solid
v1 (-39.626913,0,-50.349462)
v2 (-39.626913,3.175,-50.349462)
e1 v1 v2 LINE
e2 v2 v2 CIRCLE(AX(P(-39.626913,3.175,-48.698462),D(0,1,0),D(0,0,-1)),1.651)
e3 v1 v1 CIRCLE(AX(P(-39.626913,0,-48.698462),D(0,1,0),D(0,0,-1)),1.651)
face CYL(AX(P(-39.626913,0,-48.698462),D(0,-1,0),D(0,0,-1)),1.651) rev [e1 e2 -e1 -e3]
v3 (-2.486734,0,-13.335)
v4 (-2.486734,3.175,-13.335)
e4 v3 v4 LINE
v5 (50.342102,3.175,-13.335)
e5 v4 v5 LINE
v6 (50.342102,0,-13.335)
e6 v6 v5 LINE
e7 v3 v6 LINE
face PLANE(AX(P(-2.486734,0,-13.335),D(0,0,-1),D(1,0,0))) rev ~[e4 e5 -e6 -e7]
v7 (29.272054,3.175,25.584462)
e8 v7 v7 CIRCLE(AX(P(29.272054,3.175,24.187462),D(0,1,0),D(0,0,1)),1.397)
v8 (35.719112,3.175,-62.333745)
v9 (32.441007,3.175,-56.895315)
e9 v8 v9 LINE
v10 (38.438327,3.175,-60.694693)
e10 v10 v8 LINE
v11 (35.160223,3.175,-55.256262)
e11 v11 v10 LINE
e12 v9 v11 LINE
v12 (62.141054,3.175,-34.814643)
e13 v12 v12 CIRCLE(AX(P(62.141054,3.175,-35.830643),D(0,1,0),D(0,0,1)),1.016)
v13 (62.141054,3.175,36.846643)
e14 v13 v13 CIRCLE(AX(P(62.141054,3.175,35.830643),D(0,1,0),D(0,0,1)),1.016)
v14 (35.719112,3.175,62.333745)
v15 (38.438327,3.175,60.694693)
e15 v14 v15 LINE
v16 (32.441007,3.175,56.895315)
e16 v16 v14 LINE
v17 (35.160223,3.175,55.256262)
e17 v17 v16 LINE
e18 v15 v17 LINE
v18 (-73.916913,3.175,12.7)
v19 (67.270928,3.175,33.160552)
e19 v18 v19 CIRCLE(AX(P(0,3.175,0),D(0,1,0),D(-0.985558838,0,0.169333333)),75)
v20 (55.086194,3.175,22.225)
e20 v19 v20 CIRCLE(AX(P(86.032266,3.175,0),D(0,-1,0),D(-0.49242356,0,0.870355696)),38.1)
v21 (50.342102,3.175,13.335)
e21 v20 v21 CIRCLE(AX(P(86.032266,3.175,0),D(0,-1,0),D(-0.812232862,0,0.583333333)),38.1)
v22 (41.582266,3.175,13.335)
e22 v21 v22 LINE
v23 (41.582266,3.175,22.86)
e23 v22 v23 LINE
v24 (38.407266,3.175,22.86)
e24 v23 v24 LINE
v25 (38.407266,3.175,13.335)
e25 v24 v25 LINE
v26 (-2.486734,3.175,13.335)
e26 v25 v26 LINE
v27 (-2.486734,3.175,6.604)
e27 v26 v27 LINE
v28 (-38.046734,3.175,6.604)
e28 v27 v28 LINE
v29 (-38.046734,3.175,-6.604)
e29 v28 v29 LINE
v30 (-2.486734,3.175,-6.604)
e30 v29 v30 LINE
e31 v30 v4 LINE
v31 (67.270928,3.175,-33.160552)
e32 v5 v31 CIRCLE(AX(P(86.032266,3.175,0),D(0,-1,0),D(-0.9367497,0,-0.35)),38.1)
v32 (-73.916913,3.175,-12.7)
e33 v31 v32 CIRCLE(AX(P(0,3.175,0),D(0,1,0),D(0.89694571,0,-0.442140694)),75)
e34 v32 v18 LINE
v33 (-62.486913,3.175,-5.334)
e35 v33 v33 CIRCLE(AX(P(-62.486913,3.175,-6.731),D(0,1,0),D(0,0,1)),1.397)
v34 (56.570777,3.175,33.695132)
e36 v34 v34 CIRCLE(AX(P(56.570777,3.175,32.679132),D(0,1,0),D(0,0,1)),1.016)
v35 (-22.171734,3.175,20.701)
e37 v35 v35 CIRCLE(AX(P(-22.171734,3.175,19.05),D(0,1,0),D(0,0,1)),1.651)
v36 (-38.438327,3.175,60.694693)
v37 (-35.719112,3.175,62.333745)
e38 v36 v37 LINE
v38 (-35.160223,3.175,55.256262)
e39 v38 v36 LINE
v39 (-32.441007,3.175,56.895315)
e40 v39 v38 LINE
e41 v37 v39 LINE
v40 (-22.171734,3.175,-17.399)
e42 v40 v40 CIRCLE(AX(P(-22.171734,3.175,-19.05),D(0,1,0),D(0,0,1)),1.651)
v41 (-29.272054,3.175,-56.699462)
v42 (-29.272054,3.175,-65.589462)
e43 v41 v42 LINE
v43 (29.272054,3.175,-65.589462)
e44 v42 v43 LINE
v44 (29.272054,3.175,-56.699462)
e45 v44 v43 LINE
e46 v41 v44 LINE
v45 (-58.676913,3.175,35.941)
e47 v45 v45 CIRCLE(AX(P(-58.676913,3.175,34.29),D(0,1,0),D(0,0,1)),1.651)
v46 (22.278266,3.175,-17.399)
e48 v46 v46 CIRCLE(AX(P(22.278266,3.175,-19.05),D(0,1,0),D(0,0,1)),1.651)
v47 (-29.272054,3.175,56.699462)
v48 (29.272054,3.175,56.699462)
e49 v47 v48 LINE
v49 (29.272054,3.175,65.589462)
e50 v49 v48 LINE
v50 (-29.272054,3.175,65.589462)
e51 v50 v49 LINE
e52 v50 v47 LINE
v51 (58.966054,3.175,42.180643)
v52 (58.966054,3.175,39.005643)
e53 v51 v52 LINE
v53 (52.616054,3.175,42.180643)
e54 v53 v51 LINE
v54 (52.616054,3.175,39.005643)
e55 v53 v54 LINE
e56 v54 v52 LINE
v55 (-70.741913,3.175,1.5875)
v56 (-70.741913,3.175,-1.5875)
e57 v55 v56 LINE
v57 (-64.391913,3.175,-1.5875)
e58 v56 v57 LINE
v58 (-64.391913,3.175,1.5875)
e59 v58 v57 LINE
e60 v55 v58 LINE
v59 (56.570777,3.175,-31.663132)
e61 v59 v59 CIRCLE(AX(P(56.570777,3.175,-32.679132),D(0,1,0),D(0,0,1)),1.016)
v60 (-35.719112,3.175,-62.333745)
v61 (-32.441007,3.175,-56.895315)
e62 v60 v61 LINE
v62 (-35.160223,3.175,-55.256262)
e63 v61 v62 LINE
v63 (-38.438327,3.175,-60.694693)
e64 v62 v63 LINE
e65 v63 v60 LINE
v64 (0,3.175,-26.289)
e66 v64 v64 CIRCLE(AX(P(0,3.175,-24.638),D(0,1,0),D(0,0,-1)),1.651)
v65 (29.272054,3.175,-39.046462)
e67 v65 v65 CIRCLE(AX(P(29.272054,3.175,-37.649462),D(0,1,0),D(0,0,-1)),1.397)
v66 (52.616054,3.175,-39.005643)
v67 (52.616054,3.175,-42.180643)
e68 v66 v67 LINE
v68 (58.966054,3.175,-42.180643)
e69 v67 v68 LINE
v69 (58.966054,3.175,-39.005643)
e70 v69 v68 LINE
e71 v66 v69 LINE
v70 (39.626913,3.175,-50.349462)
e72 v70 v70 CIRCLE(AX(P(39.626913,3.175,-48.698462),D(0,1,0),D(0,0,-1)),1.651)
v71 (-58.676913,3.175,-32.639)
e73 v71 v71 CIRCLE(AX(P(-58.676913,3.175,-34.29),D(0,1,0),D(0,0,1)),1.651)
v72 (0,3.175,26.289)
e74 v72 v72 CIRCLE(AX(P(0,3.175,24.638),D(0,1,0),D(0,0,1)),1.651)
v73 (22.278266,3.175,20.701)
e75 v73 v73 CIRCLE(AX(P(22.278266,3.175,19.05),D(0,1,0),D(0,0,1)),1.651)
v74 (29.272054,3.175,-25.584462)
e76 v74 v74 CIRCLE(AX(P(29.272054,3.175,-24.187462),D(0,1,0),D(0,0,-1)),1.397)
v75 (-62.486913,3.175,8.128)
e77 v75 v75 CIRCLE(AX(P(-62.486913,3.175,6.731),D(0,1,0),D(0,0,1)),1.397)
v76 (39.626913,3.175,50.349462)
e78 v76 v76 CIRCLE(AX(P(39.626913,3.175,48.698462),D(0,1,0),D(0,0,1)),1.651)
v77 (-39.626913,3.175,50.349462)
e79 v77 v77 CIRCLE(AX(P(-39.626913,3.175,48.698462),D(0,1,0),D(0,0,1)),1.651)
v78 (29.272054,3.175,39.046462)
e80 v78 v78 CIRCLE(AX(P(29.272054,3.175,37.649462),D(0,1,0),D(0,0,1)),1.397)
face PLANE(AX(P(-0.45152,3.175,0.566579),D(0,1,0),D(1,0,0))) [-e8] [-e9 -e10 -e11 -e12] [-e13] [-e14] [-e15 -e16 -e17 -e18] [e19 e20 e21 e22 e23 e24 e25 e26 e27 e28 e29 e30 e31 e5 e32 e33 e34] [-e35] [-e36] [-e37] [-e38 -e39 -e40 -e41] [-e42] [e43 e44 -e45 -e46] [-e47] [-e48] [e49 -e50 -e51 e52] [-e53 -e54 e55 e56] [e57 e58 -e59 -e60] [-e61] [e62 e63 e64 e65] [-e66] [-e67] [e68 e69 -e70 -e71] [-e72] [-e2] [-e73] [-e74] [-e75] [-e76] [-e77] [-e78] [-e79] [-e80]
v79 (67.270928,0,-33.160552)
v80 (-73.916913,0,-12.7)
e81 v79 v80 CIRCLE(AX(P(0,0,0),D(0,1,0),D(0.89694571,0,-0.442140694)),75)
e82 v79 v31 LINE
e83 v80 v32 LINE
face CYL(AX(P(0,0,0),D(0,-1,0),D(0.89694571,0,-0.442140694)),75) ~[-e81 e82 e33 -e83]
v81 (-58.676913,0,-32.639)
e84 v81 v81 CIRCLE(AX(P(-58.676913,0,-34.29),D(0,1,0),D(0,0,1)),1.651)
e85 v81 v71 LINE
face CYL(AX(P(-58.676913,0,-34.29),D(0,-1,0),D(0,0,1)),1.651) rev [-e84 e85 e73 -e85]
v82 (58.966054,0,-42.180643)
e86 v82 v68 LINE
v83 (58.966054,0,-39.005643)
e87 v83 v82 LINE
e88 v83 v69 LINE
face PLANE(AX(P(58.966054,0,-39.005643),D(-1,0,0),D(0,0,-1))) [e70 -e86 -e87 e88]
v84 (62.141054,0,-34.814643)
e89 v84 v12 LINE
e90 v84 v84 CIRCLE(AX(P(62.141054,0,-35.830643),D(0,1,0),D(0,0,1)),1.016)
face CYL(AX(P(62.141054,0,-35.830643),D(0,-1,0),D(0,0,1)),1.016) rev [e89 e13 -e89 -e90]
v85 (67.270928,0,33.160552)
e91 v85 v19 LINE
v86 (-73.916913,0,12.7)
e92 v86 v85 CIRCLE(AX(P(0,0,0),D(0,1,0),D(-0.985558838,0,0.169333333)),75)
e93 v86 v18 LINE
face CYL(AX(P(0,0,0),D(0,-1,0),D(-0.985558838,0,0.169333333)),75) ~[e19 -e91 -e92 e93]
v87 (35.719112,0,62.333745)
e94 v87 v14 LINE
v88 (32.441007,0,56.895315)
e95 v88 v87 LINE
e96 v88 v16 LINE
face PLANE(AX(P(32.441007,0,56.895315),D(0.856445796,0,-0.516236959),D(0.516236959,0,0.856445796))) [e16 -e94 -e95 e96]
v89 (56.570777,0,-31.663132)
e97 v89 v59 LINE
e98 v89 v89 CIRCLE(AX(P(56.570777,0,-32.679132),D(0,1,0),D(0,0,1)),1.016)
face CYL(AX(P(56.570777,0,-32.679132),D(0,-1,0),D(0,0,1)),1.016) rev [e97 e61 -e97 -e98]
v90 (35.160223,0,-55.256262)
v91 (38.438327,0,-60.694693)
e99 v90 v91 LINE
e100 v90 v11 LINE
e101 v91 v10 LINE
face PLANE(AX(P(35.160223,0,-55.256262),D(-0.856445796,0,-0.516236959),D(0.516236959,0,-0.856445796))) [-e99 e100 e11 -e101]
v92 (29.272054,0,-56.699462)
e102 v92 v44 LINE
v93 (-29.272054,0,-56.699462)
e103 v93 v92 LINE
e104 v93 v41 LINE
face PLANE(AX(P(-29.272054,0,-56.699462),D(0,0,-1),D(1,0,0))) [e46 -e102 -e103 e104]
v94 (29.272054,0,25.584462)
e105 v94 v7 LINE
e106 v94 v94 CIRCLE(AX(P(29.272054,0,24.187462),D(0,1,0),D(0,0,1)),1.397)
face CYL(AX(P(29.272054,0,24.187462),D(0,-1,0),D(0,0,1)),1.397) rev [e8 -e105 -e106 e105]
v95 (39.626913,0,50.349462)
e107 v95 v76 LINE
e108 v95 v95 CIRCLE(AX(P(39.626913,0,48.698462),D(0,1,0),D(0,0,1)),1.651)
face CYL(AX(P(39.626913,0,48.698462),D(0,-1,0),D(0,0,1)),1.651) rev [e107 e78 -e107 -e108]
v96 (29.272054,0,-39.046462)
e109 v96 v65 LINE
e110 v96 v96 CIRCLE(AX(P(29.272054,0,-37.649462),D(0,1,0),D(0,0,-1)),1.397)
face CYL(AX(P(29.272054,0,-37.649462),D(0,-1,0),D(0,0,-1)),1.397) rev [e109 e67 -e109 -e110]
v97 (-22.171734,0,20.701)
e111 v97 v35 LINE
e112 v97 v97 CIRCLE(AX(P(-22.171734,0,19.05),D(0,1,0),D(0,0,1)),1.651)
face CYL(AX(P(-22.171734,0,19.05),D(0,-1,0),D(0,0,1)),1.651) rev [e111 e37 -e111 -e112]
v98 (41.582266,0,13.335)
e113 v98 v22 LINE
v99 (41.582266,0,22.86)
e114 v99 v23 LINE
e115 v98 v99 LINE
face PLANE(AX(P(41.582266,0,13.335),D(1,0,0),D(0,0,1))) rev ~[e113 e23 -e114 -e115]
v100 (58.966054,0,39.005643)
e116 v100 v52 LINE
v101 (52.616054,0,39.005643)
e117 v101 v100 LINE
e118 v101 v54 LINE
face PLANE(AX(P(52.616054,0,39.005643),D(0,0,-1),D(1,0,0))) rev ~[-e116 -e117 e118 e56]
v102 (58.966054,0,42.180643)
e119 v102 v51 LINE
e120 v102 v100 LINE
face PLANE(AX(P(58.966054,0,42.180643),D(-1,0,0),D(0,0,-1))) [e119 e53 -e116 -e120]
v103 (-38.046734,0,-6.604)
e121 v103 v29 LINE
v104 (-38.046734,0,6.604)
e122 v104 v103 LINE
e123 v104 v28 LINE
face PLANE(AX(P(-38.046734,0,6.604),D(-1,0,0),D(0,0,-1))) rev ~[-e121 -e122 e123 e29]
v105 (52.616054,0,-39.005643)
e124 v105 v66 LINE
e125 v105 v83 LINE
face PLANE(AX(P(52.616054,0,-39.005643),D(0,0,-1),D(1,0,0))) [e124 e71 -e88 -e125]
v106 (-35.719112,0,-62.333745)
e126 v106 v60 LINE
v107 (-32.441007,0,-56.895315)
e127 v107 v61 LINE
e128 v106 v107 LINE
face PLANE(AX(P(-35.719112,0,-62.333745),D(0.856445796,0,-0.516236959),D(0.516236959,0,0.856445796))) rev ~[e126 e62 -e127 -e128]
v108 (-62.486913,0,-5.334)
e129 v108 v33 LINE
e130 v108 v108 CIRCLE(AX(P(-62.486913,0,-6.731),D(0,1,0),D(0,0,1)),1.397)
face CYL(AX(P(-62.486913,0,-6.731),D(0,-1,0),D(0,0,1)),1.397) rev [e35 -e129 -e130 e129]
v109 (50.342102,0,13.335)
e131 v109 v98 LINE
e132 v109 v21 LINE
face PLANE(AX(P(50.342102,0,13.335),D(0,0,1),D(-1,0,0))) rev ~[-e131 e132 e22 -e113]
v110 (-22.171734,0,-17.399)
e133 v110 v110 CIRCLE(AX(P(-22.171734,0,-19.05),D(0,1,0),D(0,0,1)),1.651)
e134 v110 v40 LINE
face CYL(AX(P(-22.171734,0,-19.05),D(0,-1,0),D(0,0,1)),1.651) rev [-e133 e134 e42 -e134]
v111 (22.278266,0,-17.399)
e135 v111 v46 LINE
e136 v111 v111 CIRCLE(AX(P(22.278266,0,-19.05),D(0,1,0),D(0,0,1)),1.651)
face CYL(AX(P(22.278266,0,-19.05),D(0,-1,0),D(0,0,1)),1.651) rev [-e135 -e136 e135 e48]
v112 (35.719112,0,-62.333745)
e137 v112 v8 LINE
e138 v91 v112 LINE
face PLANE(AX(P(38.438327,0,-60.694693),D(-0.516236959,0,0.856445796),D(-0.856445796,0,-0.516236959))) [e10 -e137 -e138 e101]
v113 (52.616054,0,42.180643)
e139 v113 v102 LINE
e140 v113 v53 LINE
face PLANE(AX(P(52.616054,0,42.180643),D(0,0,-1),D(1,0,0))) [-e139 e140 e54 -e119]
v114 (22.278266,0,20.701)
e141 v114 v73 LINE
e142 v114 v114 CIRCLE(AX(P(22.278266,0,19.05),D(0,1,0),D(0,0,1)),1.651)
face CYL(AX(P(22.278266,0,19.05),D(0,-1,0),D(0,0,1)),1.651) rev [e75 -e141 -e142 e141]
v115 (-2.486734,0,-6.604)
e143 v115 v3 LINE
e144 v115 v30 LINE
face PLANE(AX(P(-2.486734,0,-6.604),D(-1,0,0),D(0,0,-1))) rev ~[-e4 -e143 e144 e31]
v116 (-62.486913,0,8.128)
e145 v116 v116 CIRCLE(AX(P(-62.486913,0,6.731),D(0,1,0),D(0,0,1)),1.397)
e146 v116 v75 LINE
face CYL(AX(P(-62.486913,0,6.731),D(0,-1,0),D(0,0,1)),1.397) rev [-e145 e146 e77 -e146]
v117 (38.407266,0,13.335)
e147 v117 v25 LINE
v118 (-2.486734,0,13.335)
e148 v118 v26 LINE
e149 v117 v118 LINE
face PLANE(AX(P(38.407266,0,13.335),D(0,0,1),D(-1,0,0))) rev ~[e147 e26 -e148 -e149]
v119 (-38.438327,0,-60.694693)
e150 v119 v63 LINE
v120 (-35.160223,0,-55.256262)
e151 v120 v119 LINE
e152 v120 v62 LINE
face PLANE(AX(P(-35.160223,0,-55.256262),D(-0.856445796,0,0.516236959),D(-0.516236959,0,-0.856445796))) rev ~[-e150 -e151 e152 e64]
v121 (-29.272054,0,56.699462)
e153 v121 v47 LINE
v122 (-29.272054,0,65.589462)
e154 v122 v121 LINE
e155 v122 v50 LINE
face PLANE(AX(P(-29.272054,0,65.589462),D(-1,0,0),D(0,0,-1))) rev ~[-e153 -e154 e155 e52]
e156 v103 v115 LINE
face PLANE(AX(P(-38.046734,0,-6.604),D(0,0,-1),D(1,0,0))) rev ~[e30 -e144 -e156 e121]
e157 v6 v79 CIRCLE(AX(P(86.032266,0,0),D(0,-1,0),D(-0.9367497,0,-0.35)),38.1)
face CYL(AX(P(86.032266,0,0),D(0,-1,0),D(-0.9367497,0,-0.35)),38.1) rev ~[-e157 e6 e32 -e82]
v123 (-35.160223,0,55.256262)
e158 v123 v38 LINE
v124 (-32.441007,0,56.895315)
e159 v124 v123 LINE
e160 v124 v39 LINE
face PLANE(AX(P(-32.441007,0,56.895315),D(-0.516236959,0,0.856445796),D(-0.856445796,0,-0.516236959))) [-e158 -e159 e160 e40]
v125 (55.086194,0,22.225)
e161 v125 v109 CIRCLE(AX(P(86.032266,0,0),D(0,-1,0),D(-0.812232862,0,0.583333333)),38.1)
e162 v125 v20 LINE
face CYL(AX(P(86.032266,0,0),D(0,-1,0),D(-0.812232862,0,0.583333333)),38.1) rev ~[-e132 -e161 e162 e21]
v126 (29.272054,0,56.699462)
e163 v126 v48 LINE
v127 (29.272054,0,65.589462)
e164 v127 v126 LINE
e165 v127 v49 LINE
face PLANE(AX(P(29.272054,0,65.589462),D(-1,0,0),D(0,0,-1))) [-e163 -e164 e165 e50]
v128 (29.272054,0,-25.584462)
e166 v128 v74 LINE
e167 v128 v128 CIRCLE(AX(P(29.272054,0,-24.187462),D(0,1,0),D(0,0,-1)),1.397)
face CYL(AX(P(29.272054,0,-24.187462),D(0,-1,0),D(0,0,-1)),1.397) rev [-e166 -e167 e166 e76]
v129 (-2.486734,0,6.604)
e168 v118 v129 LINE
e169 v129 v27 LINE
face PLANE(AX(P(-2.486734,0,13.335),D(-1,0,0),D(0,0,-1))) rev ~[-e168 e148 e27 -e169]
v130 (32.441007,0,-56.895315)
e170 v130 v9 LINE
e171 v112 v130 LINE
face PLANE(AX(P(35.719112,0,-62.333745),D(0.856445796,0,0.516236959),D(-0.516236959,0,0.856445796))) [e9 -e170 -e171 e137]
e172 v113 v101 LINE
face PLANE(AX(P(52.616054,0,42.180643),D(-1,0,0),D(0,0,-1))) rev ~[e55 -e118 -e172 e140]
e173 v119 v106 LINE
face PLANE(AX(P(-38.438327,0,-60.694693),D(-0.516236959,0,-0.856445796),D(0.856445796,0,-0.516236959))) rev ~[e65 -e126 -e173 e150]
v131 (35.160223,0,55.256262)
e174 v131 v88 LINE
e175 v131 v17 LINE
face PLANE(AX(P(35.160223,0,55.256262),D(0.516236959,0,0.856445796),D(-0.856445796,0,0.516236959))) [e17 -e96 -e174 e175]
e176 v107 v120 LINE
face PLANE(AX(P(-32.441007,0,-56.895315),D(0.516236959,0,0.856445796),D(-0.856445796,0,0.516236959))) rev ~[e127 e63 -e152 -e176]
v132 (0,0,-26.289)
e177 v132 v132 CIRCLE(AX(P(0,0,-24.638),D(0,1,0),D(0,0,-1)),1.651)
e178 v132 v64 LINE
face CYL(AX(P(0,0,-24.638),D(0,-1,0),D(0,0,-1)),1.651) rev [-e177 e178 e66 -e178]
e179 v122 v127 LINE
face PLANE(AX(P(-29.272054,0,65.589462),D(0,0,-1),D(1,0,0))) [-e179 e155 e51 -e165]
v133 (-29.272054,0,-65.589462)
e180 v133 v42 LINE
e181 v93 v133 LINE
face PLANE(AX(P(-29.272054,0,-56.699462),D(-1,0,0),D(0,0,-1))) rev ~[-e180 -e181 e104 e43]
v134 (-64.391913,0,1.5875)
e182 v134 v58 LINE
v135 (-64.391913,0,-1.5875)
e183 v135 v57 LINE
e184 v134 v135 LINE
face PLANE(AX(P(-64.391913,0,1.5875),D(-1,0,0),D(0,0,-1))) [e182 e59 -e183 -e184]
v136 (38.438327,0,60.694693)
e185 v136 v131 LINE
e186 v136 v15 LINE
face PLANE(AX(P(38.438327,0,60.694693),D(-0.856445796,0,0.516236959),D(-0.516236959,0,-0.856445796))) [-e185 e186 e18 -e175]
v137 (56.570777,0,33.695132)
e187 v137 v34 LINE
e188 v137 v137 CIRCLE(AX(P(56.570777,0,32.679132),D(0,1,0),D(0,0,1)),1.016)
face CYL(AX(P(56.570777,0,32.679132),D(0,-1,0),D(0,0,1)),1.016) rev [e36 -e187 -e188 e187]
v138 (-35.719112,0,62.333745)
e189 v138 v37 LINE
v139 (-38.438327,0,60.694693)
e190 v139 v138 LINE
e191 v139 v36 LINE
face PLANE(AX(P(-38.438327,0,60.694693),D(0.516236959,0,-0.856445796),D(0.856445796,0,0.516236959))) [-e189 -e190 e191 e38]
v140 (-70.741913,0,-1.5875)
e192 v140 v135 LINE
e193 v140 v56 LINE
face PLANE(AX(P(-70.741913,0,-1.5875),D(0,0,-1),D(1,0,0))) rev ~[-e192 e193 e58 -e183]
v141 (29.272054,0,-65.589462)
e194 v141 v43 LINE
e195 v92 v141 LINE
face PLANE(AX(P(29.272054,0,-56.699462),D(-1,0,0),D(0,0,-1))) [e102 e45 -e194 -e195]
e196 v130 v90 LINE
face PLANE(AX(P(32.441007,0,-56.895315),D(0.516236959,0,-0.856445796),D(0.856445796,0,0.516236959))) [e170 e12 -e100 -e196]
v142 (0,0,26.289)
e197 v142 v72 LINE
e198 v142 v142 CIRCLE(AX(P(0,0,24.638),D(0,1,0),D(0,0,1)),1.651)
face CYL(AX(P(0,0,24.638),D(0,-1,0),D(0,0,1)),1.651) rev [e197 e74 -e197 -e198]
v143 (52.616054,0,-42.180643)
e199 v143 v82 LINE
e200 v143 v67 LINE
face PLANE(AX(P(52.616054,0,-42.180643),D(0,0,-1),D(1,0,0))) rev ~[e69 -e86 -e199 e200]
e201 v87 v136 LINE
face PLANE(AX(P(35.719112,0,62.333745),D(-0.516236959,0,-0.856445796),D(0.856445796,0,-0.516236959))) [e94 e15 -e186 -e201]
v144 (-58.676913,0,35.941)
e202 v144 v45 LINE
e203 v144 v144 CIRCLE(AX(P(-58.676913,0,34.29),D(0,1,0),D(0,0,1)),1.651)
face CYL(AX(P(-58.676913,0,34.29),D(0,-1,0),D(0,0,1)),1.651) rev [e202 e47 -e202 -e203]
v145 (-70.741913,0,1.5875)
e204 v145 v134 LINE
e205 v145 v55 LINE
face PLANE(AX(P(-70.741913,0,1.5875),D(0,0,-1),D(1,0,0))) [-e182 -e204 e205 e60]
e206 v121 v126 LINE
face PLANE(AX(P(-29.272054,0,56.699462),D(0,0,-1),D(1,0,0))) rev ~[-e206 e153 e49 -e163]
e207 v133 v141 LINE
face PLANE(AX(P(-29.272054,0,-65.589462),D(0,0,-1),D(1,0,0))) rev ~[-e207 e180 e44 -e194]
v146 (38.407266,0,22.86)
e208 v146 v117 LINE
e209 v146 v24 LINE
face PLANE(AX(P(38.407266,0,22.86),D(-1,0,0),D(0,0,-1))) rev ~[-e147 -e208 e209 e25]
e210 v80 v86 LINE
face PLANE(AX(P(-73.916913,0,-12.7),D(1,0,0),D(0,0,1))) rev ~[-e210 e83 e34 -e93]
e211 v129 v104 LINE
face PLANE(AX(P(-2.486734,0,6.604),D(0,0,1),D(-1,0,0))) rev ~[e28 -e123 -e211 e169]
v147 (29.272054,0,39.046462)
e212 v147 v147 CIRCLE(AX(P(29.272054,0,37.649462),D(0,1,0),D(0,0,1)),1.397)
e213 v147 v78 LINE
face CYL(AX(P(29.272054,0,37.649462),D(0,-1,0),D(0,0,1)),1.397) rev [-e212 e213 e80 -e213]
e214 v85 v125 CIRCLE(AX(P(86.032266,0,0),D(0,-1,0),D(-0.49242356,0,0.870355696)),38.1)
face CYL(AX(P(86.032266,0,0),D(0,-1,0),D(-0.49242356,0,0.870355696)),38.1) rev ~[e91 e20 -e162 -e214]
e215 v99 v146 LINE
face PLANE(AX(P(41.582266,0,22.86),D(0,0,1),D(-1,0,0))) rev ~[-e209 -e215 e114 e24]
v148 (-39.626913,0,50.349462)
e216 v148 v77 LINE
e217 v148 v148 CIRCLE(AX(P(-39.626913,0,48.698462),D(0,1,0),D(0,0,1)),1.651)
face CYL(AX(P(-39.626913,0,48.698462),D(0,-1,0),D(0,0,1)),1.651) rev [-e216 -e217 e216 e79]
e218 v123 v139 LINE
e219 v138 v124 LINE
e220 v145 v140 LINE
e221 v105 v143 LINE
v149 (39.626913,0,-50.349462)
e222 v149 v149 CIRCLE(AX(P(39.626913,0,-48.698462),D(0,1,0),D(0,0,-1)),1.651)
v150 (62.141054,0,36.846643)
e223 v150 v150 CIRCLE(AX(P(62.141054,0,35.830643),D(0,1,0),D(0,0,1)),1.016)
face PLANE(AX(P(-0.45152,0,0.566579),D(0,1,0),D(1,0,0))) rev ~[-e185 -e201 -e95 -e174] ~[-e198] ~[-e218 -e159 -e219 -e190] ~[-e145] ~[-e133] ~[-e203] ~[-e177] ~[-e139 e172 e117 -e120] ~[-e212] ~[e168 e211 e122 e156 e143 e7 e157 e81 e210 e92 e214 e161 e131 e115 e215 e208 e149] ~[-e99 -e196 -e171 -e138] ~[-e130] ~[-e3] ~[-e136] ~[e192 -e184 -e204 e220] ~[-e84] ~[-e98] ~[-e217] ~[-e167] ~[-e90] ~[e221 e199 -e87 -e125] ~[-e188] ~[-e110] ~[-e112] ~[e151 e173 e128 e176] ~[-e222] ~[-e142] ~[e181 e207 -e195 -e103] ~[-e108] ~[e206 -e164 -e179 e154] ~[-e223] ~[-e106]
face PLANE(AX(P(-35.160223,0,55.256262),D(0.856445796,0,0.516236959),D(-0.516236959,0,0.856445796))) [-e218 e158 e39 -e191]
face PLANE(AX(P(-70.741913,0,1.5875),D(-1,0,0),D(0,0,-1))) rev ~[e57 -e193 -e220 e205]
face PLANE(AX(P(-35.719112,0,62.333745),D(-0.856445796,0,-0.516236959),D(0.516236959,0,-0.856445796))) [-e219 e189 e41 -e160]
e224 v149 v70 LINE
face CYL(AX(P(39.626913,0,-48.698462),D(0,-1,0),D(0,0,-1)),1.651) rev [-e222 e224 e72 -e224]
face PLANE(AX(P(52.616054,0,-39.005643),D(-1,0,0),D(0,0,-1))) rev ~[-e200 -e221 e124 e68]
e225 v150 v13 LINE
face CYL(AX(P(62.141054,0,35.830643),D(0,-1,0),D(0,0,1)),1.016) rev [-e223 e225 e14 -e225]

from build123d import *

# Parameters (mm, degrees)
SKETCH1_R           = 1.397
SKETCH1_R_2         = 1.651
SKETCH1_R_3         = 1.016
SKETCH1_W           = 58.544107304
SKETCH1_H           = 8.89
SKETCH1_W_2         = 6.35
SKETCH1_H_2         = 3.175
BOSS_EXTRUDE1_DEPTH = 3.175


with BuildPart() as part:
    # Sketch1 → Boss-Extrude1 (new body)
    with BuildSketch(Plane(origin=(0, 0, 0), x_dir=(1, 0, 0), z_dir=(0, 1, 0))):
        with BuildLine():
            Line((38.407265908, 13.335), (41.582265908, 13.335))
            Line((41.582265908, 13.335), (50.342102347, 13.335))
            ThreePointArc((50.342102347, 13.335), (57.058059725, 24.74076345), (67.270928268, 33.160552015))
            ThreePointArc((67.270928268, 33.160552015), (-10.756431789, 74.224653419), (-73.916912814, 12.7))
            Line((-73.916912814, 12.7), (-73.916912814, -12.7))
            ThreePointArc((-73.916912814, -12.7), (-10.756431789, -74.224653419), (67.270928268, -33.160552015))
            ThreePointArc((67.270928268, -33.160552015), (60.584216496, -28.355013333), (55.086193863, -22.225))
            ThreePointArc((55.086193863, -22.225), (52.41895011, -17.937530518), (50.342102347, -13.335))
            Line((50.342102347, -13.335), (46.281265908, -13.335))
            Line((46.281265908, -13.335), (41.582265908, -13.335))
            Line((41.582265908, -13.335), (41.582265908, -22.86))
            Line((41.582265908, -22.86), (38.407265908, -22.86))
            Line((38.407265908, -22.86), (38.407265908, -13.335))
            Line((38.407265908, -13.335), (-2.486734092, -13.335))
            Line((-2.486734092, -13.335), (-2.486734092, -6.604))
            Line((-2.486734092, -6.604), (-38.046734092, -6.604))
            Line((-38.046734092, -6.604), (-38.046734092, 6.604))
            Line((-38.046734092, 6.604), (-2.486734092, 6.604))
            Line((-2.486734092, 6.604), (-2.486734092, 13.335))
            Line((-2.486734092, 13.335), (38.407265908, 13.335))
        make_face()
        with Locations(Location((-62.486912814, 6.731, 0), (0, 0, 270))):
            Circle(SKETCH1_R, mode=Mode.SUBTRACT)
        with Locations(Location((-62.486912814, -6.731, 0), (0, 0, 270))):
            Circle(SKETCH1_R, mode=Mode.SUBTRACT)
        with Locations(Location((-39.626912814, -48.698461806, 0), (0, 0, 270))):
            Circle(SKETCH1_R_2, mode=Mode.SUBTRACT)
        with Locations(Location((39.626912814, -48.698461806, 0), (0, 0, 270))):
            Circle(SKETCH1_R_2, mode=Mode.SUBTRACT)
        with Locations(Location((39.626912814, 48.698461806, 0), (0, 0, 90))):
            Circle(SKETCH1_R_2, mode=Mode.SUBTRACT)
        with Locations(Location((0, -24.638, 0), (0, 0, 270))):
            Circle(SKETCH1_R_2, mode=Mode.SUBTRACT)
        with Locations(Location((-39.626912814, 48.698461806, 0), (0, 0, 90))):
            Circle(SKETCH1_R_2, mode=Mode.SUBTRACT)
        with Locations(Location((0, 24.638, 0), (0, 0, 90))):
            Circle(SKETCH1_R_2, mode=Mode.SUBTRACT)
        with Locations(Location((29.272053652, -37.649461806, 0), (0, 0, 270))):
            Circle(SKETCH1_R, mode=Mode.SUBTRACT)
        with Locations(Location((-58.676912814, 34.29, 0), (0, 0, 270))):
            Circle(SKETCH1_R_2, mode=Mode.SUBTRACT)
        with Locations(Location((62.141053559, -35.830642926, 0), (0, 0, 270))):
            Circle(SKETCH1_R_3, mode=Mode.SUBTRACT)
        with Locations(Location((56.570777105, -32.679132142, 0), (0, 0, 270))):
            Circle(SKETCH1_R_3, mode=Mode.SUBTRACT)
        with Locations(Location((-58.676912814, -34.29, 0), (0, 0, 270))):
            Circle(SKETCH1_R_2, mode=Mode.SUBTRACT)
        with Locations(Location((29.272053652, -24.187461806, 0), (0, 0, 270))):
            Circle(SKETCH1_R, mode=Mode.SUBTRACT)
        with Locations(Location((29.272053652, 37.649461806, 0), (0, 0, 90))):
            Circle(SKETCH1_R, mode=Mode.SUBTRACT)
        with Locations(Location((29.272053652, 24.187461806, 0), (0, 0, 90))):
            Circle(SKETCH1_R, mode=Mode.SUBTRACT)
        with Locations(Location((62.141053559, 35.830642926, 0), (0, 0, 270))):
            Circle(SKETCH1_R_3, mode=Mode.SUBTRACT)
        with Locations(Location((56.570777105, 32.679132142, 0), (0, 0, 270))):
            Circle(SKETCH1_R_3, mode=Mode.SUBTRACT)
        with Locations(Location((22.278265908, 19.05, 0), (0, 0, 270))):
            Circle(SKETCH1_R_2, mode=Mode.SUBTRACT)
        with Locations(Location((22.278265908, -19.05, 0), (0, 0, 270))):
            Circle(SKETCH1_R_2, mode=Mode.SUBTRACT)
        with Locations(Location((-22.171734092, -19.05, 0), (0, 0, 270))):
            Circle(SKETCH1_R_2, mode=Mode.SUBTRACT)
        with Locations(Location((-22.171734092, 19.05, 0), (0, 0, 270))):
            Circle(SKETCH1_R_2, mode=Mode.SUBTRACT)
        with Locations((0, -61.144461806)):
            Rectangle(SKETCH1_W, SKETCH1_H, mode=Mode.SUBTRACT)
        with Locations((0, 61.144461806)):
            Rectangle(SKETCH1_W, SKETCH1_H, mode=Mode.SUBTRACT)
        with Locations((55.791053559, -40.593142926)):
            Rectangle(SKETCH1_W_2, SKETCH1_H_2, mode=Mode.SUBTRACT)
        with Locations((55.791053559, 40.593142926)):
            Rectangle(SKETCH1_W_2, SKETCH1_H_2, mode=Mode.SUBTRACT)
        Polygon((32.44100721, -56.895314679), (35.719111901, -62.333745485), (38.438327304, -60.694693139), (35.160222613, -55.256262334), align=None, mode=Mode.SUBTRACT)
        Polygon((-32.44100721, -56.895314679), (-35.160222613, -55.256262334), (-38.438327304, -60.694693139), (-35.719111901, -62.333745485), align=None, mode=Mode.SUBTRACT)
        Polygon((-35.160222613, 55.256262334), (-38.438327304, 60.694693139), (-35.719111901, 62.333745485), (-32.44100721, 56.895314679), align=None, mode=Mode.SUBTRACT)
        Polygon((35.160222613, 55.256262334), (38.438327304, 60.694693139), (35.719111901, 62.333745485), (32.44100721, 56.895314679), align=None, mode=Mode.SUBTRACT)
        with Locations((-67.566912814, 0)):
            Rectangle(SKETCH1_W_2, SKETCH1_H_2, mode=Mode.SUBTRACT)
    extrude(amount=BOSS_EXTRUDE1_DEPTH)


solid = part.part
